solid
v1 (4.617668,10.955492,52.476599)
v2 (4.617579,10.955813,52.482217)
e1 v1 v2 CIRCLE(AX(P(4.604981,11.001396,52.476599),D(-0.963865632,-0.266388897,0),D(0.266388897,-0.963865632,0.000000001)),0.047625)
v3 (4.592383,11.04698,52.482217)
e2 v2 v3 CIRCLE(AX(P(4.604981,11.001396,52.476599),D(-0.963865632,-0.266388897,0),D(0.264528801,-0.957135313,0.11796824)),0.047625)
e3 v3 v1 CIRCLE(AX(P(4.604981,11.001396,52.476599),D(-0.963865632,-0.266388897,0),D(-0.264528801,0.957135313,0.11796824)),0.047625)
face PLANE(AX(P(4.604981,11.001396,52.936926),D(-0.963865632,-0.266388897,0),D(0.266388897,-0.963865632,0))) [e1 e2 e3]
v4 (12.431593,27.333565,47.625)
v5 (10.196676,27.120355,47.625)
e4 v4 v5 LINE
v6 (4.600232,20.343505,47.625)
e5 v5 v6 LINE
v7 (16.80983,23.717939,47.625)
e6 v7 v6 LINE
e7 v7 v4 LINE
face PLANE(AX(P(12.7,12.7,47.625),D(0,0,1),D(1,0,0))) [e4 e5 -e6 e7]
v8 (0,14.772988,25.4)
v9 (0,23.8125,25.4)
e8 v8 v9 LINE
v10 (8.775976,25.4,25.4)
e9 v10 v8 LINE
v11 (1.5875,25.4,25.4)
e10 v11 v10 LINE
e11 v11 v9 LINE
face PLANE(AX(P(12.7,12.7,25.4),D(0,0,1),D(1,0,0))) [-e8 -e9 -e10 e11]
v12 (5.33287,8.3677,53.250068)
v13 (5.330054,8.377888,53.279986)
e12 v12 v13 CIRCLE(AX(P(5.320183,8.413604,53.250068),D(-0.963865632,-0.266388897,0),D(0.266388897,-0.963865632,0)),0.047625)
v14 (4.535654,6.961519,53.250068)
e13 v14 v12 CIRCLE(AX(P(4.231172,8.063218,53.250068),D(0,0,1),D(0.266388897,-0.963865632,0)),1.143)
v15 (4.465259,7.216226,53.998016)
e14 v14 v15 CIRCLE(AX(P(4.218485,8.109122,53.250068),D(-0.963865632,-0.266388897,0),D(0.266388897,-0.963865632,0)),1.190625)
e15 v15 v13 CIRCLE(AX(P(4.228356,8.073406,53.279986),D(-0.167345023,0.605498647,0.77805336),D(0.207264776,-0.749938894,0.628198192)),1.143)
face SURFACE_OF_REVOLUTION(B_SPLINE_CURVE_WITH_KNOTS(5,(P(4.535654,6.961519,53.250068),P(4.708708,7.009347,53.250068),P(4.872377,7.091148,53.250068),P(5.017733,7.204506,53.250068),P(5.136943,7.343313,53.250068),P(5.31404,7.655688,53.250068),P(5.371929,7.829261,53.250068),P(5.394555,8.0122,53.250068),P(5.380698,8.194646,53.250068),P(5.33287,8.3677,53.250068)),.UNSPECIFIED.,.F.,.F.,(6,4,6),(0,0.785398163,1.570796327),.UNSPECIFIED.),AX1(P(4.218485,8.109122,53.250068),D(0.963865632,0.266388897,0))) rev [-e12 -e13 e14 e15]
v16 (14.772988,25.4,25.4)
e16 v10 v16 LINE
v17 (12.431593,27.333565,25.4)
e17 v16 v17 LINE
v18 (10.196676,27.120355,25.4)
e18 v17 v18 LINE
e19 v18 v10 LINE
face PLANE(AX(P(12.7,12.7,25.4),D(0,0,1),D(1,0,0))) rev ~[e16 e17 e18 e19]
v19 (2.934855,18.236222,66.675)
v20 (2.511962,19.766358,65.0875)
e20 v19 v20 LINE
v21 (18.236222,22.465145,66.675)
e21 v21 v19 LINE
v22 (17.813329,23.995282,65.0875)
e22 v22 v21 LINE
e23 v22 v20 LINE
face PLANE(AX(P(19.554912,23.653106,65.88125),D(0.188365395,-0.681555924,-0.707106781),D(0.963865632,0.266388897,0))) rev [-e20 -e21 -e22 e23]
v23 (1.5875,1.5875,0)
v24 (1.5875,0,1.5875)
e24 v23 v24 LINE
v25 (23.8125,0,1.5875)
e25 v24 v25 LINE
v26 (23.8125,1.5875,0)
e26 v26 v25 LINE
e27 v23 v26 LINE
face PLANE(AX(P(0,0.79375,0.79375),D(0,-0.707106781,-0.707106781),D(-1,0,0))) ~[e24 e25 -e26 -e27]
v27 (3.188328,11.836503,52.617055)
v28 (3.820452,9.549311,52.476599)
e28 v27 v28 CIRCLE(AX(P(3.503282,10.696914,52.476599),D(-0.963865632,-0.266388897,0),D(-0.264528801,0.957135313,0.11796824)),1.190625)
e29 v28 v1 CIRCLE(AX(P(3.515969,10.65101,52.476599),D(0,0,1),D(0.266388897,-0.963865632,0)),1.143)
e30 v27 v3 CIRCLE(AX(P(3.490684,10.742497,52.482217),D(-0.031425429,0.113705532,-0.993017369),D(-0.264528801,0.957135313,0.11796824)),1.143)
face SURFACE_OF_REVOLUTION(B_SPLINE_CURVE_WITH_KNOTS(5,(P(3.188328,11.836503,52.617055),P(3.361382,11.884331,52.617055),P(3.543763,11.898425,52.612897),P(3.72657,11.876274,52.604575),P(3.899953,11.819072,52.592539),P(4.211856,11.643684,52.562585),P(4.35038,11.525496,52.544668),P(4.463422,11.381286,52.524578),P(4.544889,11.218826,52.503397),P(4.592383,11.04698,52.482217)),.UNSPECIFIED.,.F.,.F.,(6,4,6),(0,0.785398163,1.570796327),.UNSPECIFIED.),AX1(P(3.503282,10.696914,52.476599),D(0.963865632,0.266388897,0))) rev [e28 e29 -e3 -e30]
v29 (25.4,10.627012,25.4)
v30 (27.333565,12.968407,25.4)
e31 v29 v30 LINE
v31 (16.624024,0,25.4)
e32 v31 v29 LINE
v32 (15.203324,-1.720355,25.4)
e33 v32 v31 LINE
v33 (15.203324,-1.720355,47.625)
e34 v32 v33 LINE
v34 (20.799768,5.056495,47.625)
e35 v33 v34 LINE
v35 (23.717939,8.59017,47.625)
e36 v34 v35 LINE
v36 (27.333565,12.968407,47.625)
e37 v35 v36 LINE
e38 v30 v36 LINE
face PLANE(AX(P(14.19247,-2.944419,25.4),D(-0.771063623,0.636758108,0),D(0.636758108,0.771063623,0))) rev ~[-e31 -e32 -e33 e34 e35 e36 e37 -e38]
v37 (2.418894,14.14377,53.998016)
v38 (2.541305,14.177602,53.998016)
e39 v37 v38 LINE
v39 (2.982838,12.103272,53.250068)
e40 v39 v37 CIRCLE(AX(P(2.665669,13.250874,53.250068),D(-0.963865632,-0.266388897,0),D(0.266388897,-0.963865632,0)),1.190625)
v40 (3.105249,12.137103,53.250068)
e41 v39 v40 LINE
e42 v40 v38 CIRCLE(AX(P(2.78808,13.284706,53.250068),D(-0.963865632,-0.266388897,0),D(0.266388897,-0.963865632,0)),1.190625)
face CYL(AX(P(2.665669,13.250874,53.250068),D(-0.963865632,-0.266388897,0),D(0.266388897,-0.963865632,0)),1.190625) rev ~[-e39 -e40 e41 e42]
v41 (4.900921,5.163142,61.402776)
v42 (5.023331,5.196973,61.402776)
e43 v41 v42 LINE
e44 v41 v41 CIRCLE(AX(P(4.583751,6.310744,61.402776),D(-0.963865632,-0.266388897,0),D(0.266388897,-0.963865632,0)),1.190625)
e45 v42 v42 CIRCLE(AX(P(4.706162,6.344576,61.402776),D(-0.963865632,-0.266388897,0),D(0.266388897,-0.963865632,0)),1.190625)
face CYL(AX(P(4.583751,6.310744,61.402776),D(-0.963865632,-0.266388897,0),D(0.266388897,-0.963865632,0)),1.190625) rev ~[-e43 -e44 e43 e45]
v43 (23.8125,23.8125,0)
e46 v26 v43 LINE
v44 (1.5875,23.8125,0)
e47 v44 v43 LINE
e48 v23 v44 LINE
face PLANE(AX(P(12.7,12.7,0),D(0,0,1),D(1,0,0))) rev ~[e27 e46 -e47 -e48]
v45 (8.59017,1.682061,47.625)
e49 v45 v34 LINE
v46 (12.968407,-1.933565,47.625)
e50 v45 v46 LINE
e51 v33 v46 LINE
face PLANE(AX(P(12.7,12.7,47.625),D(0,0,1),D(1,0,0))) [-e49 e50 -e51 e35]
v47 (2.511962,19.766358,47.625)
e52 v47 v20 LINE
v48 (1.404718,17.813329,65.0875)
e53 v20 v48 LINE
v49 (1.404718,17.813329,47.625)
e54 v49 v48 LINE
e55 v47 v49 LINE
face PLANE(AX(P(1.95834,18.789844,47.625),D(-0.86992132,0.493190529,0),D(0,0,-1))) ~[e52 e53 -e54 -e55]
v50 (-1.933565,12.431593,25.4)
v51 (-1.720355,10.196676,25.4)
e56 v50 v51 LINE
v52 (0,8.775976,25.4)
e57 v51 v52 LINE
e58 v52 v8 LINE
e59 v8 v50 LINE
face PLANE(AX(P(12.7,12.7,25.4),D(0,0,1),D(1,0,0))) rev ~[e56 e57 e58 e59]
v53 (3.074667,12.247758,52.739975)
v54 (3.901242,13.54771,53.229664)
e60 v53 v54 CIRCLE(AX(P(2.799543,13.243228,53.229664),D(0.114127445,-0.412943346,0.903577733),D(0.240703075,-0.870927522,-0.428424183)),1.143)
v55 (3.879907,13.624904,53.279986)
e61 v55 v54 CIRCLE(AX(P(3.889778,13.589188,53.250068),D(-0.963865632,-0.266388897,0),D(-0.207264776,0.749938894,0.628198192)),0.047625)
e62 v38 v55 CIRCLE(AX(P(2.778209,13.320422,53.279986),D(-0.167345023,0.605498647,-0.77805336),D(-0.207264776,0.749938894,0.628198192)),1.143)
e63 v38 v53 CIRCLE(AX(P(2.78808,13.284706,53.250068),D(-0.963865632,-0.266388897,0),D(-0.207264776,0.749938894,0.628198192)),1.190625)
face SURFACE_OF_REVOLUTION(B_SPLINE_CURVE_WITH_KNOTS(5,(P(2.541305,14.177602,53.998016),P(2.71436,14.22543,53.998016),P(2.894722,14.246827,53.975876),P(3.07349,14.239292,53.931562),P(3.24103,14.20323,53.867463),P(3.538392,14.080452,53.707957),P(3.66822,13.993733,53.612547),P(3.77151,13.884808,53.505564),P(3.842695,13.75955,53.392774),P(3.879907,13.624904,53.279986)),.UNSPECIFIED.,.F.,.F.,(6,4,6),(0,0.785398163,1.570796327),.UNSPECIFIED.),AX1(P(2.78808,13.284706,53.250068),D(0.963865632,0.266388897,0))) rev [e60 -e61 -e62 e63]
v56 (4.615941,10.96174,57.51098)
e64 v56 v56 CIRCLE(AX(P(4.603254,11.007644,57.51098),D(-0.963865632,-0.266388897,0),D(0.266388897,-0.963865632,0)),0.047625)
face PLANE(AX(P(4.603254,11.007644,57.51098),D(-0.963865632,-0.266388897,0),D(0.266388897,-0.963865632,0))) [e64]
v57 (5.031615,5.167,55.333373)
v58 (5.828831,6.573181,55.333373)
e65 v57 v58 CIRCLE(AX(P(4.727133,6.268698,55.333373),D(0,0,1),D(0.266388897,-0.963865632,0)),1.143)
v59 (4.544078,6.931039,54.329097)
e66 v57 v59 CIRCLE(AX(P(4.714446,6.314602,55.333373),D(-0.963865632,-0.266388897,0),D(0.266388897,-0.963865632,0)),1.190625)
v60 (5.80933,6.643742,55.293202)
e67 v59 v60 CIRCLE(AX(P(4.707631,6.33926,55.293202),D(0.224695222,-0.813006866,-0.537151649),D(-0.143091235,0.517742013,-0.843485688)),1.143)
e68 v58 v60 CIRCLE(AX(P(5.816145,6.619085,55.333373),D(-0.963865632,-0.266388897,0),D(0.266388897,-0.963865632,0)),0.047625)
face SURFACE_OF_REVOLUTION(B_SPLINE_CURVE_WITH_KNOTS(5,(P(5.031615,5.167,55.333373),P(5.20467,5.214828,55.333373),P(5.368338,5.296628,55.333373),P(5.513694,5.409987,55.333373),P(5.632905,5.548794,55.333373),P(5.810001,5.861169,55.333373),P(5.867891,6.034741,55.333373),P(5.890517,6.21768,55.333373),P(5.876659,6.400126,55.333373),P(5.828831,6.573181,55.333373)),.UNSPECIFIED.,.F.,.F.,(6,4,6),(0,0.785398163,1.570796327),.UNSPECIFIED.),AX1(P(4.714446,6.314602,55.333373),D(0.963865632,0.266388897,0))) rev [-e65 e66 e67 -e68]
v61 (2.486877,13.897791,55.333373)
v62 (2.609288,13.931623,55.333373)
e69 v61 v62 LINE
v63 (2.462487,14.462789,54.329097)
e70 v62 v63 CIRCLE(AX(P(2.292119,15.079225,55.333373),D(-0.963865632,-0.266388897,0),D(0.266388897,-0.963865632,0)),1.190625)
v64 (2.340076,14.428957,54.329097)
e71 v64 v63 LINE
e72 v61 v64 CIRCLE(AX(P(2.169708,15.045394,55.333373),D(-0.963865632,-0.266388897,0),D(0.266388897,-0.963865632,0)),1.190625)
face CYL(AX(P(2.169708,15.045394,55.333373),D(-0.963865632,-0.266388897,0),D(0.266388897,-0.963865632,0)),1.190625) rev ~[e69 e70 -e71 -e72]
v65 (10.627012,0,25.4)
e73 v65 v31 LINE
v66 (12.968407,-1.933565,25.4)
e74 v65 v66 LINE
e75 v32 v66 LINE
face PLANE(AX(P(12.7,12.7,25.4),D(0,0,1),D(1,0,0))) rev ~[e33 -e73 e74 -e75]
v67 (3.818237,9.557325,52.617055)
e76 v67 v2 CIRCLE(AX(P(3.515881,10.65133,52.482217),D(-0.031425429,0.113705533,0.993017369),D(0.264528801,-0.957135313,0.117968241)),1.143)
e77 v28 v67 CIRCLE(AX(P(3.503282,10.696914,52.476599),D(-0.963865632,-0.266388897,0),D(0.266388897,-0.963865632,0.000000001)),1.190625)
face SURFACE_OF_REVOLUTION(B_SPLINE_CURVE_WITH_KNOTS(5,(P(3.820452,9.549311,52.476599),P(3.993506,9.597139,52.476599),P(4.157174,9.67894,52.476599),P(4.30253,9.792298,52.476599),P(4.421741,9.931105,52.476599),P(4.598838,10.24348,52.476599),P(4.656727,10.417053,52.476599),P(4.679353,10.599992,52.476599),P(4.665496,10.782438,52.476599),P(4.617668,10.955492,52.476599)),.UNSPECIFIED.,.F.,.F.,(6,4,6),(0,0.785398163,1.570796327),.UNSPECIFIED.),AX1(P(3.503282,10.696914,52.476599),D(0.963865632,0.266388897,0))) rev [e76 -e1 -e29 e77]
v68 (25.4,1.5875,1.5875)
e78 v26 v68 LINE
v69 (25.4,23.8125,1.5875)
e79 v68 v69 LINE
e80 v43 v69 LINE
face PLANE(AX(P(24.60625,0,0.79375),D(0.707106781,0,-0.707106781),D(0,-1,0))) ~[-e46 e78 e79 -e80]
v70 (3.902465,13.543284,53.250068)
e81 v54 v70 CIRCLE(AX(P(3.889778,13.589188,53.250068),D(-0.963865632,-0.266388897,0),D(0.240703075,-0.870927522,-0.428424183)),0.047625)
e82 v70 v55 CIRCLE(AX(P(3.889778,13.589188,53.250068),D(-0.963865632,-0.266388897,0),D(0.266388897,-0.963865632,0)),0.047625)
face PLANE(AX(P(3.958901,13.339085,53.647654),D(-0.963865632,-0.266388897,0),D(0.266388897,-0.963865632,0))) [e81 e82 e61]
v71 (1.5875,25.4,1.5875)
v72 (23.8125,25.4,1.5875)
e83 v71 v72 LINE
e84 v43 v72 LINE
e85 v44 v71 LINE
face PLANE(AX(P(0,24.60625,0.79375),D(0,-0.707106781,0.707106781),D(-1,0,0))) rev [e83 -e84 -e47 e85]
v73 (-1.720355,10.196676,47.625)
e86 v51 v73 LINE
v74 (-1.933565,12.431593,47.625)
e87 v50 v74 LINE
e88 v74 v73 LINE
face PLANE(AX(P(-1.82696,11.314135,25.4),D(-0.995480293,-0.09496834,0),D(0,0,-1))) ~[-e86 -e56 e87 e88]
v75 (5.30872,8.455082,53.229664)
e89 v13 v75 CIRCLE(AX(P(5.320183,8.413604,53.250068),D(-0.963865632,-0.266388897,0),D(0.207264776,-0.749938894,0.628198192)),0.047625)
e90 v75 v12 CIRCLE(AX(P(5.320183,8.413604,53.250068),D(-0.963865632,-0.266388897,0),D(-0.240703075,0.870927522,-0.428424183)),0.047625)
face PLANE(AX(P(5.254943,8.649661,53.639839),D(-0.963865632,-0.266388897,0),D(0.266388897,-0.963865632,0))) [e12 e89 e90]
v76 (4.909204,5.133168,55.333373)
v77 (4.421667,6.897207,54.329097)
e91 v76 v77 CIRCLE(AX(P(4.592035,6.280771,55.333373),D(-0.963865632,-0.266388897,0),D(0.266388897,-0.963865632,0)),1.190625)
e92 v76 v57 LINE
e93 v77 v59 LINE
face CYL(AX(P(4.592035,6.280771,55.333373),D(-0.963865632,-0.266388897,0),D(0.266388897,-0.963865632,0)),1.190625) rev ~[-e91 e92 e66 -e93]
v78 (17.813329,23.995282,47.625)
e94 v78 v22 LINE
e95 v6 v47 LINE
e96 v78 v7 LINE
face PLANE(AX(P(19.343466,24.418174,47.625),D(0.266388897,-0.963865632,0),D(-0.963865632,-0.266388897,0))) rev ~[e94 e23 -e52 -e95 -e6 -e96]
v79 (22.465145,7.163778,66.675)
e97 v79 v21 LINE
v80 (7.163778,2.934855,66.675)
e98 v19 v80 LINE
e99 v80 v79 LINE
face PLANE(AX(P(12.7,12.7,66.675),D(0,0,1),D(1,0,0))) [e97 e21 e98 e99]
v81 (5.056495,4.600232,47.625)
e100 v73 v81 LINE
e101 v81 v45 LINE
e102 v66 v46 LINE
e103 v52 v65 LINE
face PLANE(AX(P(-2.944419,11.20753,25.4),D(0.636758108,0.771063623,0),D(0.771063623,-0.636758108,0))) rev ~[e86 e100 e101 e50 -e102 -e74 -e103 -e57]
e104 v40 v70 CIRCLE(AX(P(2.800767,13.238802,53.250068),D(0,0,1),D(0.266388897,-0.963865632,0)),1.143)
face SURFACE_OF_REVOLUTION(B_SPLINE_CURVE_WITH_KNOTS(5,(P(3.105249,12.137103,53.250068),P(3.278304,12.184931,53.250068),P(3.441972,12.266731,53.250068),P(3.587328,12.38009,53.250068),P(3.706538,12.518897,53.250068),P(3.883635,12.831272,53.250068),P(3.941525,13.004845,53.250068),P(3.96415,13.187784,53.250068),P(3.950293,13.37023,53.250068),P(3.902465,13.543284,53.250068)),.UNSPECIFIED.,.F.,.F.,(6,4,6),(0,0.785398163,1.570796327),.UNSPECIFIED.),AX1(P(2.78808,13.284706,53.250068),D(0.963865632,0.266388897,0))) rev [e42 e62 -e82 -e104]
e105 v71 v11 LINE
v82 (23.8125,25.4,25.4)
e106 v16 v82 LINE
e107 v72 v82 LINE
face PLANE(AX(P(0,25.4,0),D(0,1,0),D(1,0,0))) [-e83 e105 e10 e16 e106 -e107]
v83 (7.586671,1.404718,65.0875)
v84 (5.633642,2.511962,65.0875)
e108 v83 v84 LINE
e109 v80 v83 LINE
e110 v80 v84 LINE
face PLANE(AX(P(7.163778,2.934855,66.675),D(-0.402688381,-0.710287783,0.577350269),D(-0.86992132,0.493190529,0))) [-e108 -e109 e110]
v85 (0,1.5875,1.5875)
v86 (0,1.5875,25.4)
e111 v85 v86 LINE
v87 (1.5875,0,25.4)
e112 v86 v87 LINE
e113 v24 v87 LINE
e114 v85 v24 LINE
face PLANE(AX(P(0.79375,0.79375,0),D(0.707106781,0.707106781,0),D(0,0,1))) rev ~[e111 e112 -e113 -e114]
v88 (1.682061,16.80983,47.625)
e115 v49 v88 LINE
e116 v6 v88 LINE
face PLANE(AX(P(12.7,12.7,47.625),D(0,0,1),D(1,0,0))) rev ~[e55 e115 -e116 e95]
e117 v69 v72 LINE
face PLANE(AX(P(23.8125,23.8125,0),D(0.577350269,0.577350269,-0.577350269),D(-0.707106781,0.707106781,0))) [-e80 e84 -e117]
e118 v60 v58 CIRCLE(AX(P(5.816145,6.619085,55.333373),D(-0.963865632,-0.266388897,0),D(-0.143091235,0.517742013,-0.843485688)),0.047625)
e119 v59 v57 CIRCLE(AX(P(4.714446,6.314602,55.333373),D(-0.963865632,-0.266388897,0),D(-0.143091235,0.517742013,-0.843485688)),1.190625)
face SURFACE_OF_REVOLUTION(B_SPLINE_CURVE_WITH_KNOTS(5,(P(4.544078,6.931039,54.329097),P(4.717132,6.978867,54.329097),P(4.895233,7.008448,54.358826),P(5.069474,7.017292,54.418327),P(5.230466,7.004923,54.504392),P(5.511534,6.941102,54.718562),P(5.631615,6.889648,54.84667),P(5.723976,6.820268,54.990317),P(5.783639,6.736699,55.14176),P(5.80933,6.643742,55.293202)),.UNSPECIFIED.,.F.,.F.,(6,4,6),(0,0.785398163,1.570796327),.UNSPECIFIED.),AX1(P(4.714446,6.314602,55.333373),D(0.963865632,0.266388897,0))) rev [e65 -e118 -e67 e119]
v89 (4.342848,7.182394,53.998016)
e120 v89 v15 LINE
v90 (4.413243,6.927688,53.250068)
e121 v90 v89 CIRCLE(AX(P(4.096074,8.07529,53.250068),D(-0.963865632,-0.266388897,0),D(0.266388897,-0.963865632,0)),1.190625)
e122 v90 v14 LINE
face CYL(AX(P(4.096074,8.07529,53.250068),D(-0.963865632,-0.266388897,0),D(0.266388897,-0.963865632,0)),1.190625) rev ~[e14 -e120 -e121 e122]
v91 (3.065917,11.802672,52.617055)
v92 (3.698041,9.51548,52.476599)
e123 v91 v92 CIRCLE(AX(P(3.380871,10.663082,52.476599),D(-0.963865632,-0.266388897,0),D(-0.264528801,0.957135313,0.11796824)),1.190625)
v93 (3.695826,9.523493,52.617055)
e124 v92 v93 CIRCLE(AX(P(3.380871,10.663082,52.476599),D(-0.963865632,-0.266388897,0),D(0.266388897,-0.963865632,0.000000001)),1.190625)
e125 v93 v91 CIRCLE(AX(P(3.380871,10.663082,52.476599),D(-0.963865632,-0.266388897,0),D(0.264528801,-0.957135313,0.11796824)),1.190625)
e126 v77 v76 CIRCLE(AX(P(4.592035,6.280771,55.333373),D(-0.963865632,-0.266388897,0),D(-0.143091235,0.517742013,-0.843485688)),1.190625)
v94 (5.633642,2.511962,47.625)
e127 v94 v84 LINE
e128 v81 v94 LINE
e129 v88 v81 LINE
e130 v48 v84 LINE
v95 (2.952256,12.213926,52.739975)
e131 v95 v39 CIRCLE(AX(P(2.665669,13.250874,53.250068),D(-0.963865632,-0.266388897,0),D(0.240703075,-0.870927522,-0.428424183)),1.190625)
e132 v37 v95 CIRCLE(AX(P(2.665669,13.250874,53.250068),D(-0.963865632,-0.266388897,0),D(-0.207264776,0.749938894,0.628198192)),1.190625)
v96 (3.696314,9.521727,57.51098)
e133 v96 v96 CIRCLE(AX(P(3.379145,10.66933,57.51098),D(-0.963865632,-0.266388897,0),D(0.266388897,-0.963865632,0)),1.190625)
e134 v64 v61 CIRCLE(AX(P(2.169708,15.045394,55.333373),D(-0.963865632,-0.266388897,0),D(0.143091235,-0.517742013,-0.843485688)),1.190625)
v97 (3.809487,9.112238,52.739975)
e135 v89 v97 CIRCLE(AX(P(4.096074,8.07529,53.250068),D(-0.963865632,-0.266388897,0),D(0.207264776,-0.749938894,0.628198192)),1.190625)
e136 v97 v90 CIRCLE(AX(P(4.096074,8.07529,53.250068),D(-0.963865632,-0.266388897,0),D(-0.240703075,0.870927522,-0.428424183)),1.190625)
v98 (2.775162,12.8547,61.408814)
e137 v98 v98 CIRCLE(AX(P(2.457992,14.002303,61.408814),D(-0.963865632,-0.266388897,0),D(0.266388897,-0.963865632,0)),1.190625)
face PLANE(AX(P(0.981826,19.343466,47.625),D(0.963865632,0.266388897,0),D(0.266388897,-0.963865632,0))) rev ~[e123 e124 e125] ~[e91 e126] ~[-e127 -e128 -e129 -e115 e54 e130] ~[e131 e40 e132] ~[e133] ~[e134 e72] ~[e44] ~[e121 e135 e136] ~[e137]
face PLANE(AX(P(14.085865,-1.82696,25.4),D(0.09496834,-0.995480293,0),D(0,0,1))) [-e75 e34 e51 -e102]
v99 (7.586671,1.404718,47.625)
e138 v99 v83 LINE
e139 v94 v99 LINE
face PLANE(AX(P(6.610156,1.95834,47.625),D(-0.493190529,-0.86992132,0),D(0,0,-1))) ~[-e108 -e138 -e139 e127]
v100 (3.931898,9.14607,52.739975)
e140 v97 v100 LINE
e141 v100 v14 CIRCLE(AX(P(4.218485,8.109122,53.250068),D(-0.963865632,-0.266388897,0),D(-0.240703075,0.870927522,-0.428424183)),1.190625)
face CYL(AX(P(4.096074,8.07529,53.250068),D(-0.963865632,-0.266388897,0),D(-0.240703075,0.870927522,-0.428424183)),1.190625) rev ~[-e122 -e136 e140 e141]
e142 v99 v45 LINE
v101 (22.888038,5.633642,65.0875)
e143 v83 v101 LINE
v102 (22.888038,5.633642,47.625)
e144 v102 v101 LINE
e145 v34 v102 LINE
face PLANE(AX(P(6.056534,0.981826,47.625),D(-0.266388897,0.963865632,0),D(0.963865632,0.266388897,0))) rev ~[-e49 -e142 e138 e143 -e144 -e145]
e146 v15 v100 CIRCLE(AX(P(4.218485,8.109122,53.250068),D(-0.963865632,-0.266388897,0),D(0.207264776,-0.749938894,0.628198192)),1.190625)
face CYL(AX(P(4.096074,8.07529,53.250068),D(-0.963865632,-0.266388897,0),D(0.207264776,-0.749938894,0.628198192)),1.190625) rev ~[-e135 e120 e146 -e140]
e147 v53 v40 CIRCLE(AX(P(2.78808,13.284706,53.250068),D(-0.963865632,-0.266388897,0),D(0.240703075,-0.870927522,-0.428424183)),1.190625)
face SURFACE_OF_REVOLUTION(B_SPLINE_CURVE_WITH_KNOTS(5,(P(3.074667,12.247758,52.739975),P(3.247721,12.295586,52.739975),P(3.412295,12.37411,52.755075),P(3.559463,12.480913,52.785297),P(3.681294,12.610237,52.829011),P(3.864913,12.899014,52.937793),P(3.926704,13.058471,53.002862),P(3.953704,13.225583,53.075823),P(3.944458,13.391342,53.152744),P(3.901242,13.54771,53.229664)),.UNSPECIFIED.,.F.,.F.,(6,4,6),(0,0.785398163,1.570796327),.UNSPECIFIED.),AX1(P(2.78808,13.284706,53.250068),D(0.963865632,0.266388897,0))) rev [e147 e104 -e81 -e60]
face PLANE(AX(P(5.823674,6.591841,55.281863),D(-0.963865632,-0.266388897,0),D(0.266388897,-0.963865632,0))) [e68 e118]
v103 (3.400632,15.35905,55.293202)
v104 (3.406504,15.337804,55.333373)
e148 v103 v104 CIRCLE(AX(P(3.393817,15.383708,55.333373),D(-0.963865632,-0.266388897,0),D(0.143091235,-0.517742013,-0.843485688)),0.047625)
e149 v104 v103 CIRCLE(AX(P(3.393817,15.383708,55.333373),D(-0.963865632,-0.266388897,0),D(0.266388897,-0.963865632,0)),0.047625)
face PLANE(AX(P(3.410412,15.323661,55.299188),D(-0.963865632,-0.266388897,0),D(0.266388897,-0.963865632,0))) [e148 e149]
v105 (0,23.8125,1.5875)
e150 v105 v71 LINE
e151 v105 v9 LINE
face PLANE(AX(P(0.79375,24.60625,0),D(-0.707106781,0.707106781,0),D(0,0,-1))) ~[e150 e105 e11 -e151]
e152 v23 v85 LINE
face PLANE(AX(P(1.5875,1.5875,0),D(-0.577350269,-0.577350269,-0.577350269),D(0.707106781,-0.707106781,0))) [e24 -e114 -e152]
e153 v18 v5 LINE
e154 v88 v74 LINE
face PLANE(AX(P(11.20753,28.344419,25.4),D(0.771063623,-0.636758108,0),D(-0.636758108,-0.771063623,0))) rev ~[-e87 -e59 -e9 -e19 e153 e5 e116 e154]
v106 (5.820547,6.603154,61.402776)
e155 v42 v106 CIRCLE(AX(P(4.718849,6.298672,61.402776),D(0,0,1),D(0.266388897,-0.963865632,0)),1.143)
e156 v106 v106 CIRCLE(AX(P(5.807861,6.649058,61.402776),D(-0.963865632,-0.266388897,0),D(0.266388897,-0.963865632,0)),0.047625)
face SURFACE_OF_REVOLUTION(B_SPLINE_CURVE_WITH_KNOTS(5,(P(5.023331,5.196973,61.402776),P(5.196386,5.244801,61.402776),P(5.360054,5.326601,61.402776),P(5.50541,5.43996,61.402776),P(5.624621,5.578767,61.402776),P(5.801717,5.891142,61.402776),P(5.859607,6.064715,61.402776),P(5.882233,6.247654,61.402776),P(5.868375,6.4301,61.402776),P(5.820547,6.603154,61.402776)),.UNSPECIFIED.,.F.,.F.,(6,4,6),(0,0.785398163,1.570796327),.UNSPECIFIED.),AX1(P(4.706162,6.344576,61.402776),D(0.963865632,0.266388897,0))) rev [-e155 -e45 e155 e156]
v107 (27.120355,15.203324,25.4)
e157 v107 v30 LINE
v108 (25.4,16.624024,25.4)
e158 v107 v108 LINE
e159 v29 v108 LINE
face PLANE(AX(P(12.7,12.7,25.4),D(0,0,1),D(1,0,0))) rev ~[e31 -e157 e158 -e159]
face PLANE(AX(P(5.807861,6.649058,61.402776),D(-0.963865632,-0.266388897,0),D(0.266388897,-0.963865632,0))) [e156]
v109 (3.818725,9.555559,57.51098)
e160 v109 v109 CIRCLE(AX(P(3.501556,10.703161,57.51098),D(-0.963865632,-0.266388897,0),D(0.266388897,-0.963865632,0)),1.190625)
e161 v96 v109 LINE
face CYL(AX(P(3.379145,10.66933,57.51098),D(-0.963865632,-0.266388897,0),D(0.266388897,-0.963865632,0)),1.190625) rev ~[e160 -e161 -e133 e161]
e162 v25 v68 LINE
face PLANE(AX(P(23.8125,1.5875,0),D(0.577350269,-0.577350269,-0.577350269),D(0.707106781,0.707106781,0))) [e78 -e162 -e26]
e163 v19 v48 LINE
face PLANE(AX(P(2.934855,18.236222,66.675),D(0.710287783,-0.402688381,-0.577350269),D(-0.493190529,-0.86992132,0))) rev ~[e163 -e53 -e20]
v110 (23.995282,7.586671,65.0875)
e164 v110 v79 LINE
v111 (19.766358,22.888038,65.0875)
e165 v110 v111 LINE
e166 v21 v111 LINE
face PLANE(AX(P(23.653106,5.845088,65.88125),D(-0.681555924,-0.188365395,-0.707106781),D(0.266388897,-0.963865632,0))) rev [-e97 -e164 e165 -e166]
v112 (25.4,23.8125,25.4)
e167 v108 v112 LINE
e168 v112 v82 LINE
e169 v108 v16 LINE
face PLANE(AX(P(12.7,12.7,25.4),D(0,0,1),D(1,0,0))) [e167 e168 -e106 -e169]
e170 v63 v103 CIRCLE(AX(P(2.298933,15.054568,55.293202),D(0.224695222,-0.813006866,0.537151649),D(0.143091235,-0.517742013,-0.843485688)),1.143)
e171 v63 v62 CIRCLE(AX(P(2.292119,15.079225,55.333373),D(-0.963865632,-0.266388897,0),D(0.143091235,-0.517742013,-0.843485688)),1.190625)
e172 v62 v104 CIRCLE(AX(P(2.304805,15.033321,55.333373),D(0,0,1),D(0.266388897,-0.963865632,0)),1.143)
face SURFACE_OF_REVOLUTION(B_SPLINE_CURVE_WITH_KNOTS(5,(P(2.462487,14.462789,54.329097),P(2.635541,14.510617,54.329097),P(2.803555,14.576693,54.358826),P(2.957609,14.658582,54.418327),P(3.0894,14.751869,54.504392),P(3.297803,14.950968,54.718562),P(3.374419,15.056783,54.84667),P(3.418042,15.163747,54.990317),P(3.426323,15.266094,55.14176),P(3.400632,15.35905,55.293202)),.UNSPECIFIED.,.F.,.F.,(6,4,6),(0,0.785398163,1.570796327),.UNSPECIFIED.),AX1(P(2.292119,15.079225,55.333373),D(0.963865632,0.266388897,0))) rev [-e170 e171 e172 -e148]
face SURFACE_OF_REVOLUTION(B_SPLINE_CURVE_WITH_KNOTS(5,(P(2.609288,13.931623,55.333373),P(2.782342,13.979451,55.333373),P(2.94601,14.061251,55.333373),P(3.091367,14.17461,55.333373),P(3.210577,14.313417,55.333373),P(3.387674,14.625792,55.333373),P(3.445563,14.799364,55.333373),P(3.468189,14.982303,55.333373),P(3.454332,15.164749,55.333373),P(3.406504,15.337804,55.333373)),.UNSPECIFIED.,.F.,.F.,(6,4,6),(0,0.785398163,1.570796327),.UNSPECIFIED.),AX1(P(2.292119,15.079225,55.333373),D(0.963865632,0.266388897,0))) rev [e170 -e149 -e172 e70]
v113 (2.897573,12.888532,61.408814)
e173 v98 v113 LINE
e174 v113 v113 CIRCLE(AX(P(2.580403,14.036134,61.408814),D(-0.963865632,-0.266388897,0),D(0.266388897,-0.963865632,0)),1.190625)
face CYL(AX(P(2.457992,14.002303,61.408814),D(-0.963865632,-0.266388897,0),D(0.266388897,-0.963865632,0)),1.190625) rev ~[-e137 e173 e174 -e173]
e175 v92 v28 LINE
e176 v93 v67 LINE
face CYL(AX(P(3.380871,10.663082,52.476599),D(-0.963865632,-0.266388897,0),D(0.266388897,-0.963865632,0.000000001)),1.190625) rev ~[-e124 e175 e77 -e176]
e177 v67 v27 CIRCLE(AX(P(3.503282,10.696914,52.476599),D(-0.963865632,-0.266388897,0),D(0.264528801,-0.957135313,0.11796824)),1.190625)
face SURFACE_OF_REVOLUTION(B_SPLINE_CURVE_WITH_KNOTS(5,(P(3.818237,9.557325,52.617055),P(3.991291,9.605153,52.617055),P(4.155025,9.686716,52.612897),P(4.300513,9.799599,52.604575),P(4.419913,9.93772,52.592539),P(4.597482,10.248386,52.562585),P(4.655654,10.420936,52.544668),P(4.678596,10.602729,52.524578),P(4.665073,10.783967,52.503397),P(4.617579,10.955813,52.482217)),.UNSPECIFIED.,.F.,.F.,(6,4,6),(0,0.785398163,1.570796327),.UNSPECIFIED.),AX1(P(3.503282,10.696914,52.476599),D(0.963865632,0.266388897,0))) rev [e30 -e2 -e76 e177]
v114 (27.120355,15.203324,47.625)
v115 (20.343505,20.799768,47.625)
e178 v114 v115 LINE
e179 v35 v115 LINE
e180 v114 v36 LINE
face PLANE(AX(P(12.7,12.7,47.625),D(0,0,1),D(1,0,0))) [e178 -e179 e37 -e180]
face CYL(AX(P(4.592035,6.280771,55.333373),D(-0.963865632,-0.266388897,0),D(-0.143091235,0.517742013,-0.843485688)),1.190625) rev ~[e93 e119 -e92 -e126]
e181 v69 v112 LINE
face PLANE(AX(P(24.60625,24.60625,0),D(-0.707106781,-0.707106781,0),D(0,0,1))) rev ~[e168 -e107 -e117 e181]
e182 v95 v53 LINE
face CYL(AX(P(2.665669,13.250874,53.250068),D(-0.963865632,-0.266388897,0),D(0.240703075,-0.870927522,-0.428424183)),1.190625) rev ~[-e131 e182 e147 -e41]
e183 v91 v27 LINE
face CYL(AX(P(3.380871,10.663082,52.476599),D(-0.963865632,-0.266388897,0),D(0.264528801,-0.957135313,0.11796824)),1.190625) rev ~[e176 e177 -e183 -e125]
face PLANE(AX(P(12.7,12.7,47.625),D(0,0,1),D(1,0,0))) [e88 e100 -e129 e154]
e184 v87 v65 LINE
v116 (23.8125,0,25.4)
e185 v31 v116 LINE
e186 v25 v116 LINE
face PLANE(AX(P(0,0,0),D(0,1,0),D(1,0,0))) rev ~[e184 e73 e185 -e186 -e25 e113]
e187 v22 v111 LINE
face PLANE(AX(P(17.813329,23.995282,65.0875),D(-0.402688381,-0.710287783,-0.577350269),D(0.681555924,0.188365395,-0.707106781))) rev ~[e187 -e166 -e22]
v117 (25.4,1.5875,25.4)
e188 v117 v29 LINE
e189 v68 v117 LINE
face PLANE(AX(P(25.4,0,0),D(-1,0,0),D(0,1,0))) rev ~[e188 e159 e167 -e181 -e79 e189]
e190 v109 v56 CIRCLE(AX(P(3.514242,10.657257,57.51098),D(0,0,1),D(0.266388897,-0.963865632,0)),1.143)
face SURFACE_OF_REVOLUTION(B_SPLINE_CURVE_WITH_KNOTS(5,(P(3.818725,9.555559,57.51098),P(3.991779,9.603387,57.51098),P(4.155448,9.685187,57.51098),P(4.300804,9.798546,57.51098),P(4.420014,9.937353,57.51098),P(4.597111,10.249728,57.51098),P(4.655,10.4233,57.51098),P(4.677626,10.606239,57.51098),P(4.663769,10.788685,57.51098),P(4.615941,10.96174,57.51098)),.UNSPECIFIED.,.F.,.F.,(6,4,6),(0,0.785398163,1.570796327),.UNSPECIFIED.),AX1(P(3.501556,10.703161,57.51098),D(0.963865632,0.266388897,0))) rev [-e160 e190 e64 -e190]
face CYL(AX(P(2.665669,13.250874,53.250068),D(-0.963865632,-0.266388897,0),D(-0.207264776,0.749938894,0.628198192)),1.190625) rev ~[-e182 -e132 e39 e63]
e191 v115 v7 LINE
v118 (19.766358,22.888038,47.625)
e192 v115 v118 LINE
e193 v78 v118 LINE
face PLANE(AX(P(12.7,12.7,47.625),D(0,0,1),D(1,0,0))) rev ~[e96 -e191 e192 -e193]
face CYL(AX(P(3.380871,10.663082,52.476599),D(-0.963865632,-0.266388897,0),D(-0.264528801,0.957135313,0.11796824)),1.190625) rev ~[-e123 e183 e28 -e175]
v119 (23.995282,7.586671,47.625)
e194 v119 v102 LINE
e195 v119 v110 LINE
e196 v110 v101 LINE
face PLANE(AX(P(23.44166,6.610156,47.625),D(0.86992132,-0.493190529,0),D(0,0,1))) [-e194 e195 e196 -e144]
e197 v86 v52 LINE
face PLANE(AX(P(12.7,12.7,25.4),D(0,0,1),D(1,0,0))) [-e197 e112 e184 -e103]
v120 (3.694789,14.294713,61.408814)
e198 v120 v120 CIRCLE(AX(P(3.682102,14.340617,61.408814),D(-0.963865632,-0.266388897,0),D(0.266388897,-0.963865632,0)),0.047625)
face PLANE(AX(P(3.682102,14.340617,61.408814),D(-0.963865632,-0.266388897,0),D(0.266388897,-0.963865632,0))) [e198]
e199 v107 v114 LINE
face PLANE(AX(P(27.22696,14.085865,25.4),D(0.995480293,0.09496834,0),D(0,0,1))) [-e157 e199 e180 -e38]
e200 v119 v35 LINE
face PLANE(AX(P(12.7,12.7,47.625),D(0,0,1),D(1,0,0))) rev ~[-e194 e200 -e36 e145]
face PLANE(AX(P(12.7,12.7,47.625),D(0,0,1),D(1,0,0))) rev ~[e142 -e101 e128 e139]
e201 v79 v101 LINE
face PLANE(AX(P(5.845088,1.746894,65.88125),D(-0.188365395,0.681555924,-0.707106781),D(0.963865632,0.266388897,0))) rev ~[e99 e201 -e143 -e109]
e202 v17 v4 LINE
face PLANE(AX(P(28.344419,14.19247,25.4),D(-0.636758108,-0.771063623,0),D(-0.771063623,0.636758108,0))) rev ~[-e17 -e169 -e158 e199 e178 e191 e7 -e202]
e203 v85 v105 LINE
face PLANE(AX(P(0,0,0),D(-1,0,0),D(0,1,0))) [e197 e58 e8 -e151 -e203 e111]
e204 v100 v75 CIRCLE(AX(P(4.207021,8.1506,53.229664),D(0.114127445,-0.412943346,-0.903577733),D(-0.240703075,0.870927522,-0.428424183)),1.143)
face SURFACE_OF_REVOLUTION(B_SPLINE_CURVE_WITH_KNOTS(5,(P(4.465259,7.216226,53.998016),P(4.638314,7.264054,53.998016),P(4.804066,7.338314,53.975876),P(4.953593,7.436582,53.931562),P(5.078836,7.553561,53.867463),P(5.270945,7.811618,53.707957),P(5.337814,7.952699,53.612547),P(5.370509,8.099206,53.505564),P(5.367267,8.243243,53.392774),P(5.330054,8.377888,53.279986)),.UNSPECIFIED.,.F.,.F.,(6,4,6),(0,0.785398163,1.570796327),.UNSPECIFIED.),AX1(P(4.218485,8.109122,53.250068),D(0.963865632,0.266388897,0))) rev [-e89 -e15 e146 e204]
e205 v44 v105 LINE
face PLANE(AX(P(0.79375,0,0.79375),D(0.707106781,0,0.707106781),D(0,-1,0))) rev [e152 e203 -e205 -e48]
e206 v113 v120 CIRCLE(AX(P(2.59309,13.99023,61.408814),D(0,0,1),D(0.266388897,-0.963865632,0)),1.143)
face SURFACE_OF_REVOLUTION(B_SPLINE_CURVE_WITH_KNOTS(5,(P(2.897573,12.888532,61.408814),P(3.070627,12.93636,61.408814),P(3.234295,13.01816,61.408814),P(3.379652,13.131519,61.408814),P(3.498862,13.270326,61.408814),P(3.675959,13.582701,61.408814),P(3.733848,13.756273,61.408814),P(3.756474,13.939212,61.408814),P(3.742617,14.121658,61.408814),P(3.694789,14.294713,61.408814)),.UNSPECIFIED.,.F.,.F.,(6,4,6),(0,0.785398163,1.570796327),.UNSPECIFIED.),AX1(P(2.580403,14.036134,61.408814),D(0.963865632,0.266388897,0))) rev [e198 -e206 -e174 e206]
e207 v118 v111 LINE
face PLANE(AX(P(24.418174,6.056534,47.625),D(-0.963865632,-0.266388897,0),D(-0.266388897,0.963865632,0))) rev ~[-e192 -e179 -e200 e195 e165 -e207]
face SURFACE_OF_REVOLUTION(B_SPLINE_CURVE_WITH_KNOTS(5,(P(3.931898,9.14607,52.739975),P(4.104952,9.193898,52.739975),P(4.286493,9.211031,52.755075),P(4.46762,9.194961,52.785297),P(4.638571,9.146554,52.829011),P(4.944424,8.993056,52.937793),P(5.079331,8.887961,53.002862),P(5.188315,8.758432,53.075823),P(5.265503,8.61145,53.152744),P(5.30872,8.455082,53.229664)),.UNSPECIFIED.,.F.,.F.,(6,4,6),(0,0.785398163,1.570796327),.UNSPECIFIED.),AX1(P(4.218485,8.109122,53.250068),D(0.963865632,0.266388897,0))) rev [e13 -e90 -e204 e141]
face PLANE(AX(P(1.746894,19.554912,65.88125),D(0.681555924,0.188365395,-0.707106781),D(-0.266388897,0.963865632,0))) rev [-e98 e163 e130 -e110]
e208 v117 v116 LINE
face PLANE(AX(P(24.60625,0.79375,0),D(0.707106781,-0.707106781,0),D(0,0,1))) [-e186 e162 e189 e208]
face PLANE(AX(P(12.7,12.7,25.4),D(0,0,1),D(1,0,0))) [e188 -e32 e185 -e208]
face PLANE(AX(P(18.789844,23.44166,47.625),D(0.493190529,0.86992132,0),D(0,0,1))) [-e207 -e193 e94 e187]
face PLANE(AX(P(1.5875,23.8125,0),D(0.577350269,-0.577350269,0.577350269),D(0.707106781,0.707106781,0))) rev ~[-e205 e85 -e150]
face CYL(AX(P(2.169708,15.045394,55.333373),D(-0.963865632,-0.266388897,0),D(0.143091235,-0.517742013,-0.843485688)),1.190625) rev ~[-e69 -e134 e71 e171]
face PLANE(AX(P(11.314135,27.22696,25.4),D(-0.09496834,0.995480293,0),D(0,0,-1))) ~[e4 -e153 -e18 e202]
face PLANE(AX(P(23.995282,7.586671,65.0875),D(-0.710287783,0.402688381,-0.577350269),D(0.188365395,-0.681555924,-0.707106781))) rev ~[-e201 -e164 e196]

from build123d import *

# Parameters (mm, degrees)
F0_W     = 25.4
F0_H     = 25.4
F1_DEPTH = 25.4
F3_DEPTH = 22.225
F5_DEPTH = 19.05
F6_SIZE  = 1.5875
F7_R     = 1.190625
F8_DEPTH = 1.27
F9_R     = 1.143


with BuildPart() as f1:
    # F0 (on Top) → F1 (new body)
    with BuildSketch(Plane.XY):
        with Locations((12.7, 12.7)):
            Rectangle(F0_W, F0_H)
    extrude(amount=F1_DEPTH)

    # F2 (on face) → F3 (join)
    with BuildSketch(Plane.XY.offset(25.4)):
        Polygon((11.2075299656, 28.3444189952), (-2.9444189952, 11.2075299656), (14.1924700344, -2.9444189952), (28.3444189952, 14.1924700344), align=None)
    extrude(amount=F3_DEPTH)

    # F4 (on face) → F5 (join)
    with BuildSketch(Plane.XY.offset(47.625)):
        Polygon((19.3434658997, 24.4181743817), (0.9818256183, 19.3434658997), (6.0565341003, 0.9818256183), (24.4181743817, 6.0565341003), align=None)
    extrude(amount=F5_DEPTH)

    # F6
    f6_edges = [f1.edges().sort_by_distance(p)[0] for p in [
        (0.981826, 19.343466, 57.15),
        (6.056534, 0.981826, 57.15),
        (15.237354, 3.51918, 66.675),
        (21.88082, 15.237354, 66.675),
        (10.162646, 21.88082, 66.675),
        (3.51918, 10.162646, 66.675),
        (19.343466, 24.418174, 57.15),
        (24.418174, 6.056534, 57.15),
        (28.344419, 14.19247, 36.5125),
        (11.20753, 28.344419, 36.5125),
        (-2.944419, 11.20753, 36.5125),
        (14.19247, -2.944419, 36.5125),
        (0, 0, 12.7),
        (25.4, 0, 12.7),
        (25.4, 25.4, 12.7),
        (0, 25.4, 12.7),
        (0, 12.7, 0),
        (12.7, 0, 0),
        (25.4, 12.7, 0),
        (12.7, 25.4, 0),
    ]]
    chamfer(f6_edges, length=F6_SIZE)

    # F7 (on face) → F8 (cut)
    with BuildSketch(Plane(origin=(5.8788405943, 1.6247678187, 0), x_dir=(0.2663888967, -0.9638656316, 0), z_dir=(-0.9638656316, -0.2663888967, 0))):
        with Locations((-12.8415566616, 61.4088140364)):
            Circle(F7_R)
        with Locations((-4.8616491402, 61.4027757647)):
            Circle(F7_R)
        with Locations((-9.3836337764, 57.5109797041)):
            Circle(F7_R)
        with BuildLine():
            ThreePointArc((-13.2842058157, 54.3290973754), (-12.8799494388, 54.7606037136), (-12.7331269976, 55.3333725229))
            ThreePointArc((-12.7331269976, 55.3333725229), (-14.9675545564, 55.9061413322), (-13.2842058157, 54.3290973754))
        make_face()
        with BuildLine():
            ThreePointArc((-3.6399269976, 55.3333725229), (-5.4033208069, 56.3771750817), (-5.4700981795, 54.3290973754))
            ThreePointArc((-5.4700981795, 54.3290973754), (-4.2577831883, 54.2895699641), (-3.6399269976, 55.3333725229))
        make_face()
        with BuildLine():
            ThreePointArc((-5.7659765017, 53.9980164002), (-7.3257898947, 54.2582033765), (-7.7681685223, 52.7399753853))
            ThreePointArc((-7.7681685223, 52.7399753853), (-6.692346284, 53.2500679279), (-5.7659765017, 53.9980164002))
        make_face()
        with BuildLine():
            ThreePointArc((-5.7659765017, 53.9980164002), (-6.692346284, 53.2500679279), (-7.7681685223, 52.7399753853))
            ThreePointArc((-7.7681685223, 52.7399753853), (-6.4309203498, 52.0884981403), (-5.501721284, 53.2500679279))
            ThreePointArc((-5.501721284, 53.2500679279), (-5.5697272674, 53.6466967649), (-5.7659765017, 53.9980164002))
        make_face()
        with BuildLine():
            ThreePointArc((-8.1948406932, 52.6170548731), (-9.3771519976, 53.6672239371), (-10.5594633021, 52.6170548731))
            ThreePointArc((-10.5594633021, 52.6170548731), (-9.3771519976, 52.4765989371), (-8.1948406932, 52.6170548731))
        make_face()
        with BuildLine():
            ThreePointArc((-8.1948406932, 52.6170548731), (-9.3771519976, 52.4765989371), (-10.5594633021, 52.6170548731))
            ThreePointArc((-10.5594633021, 52.6170548731), (-9.4475028816, 51.2880541782), (-8.1865269976, 52.4765989371))
            ThreePointArc((-8.1865269976, 52.4765989371), (-8.1886072388, 52.546949821), (-8.1948406932, 52.6170548731))
        make_face()
        with BuildLine():
            ThreePointArc((-10.8713327113, 53.2500679279), (-11.6653288744, 54.3726869445), (-12.9883274936, 53.9980164002))
            ThreePointArc((-12.9883274936, 53.9980164002), (-12.0619577113, 53.2500679279), (-10.986135473, 52.7399753853))
            ThreePointArc((-10.986135473, 52.7399753853), (-10.9003879237, 52.9886419938), (-10.8713327113, 53.2500679279))
        make_face()
        with BuildLine():
            ThreePointArc((-10.986135473, 52.7399753853), (-12.0619577113, 53.2500679279), (-12.9883274936, 53.9980164002))
            ThreePointArc((-12.9883274936, 53.9980164002), (-12.695401322, 52.2419324794), (-10.986135473, 52.7399753853))
        make_face()
    extrude(amount=-F8_DEPTH, mode=Mode.SUBTRACT)

    # F9
    f9_edges = [f1.edges().sort_by_distance(p)[0] for p in [
        (3.364933, 15.488219, 61.408814),
        (5.490691, 7.796661, 61.402776),
        (4.286085, 12.155246, 57.51098),
        (3.076648, 16.53131, 55.333373),
        (4.136553, 12.696292, 52.502119),
        (4.919935, 9.861807, 52.336143),
        (5.60677, 7.376656, 53.76016),
        (5.986513, 6.002648, 56.337648),
    ]]
    fillet(f9_edges, radius=F9_R)


solid = f1.part
